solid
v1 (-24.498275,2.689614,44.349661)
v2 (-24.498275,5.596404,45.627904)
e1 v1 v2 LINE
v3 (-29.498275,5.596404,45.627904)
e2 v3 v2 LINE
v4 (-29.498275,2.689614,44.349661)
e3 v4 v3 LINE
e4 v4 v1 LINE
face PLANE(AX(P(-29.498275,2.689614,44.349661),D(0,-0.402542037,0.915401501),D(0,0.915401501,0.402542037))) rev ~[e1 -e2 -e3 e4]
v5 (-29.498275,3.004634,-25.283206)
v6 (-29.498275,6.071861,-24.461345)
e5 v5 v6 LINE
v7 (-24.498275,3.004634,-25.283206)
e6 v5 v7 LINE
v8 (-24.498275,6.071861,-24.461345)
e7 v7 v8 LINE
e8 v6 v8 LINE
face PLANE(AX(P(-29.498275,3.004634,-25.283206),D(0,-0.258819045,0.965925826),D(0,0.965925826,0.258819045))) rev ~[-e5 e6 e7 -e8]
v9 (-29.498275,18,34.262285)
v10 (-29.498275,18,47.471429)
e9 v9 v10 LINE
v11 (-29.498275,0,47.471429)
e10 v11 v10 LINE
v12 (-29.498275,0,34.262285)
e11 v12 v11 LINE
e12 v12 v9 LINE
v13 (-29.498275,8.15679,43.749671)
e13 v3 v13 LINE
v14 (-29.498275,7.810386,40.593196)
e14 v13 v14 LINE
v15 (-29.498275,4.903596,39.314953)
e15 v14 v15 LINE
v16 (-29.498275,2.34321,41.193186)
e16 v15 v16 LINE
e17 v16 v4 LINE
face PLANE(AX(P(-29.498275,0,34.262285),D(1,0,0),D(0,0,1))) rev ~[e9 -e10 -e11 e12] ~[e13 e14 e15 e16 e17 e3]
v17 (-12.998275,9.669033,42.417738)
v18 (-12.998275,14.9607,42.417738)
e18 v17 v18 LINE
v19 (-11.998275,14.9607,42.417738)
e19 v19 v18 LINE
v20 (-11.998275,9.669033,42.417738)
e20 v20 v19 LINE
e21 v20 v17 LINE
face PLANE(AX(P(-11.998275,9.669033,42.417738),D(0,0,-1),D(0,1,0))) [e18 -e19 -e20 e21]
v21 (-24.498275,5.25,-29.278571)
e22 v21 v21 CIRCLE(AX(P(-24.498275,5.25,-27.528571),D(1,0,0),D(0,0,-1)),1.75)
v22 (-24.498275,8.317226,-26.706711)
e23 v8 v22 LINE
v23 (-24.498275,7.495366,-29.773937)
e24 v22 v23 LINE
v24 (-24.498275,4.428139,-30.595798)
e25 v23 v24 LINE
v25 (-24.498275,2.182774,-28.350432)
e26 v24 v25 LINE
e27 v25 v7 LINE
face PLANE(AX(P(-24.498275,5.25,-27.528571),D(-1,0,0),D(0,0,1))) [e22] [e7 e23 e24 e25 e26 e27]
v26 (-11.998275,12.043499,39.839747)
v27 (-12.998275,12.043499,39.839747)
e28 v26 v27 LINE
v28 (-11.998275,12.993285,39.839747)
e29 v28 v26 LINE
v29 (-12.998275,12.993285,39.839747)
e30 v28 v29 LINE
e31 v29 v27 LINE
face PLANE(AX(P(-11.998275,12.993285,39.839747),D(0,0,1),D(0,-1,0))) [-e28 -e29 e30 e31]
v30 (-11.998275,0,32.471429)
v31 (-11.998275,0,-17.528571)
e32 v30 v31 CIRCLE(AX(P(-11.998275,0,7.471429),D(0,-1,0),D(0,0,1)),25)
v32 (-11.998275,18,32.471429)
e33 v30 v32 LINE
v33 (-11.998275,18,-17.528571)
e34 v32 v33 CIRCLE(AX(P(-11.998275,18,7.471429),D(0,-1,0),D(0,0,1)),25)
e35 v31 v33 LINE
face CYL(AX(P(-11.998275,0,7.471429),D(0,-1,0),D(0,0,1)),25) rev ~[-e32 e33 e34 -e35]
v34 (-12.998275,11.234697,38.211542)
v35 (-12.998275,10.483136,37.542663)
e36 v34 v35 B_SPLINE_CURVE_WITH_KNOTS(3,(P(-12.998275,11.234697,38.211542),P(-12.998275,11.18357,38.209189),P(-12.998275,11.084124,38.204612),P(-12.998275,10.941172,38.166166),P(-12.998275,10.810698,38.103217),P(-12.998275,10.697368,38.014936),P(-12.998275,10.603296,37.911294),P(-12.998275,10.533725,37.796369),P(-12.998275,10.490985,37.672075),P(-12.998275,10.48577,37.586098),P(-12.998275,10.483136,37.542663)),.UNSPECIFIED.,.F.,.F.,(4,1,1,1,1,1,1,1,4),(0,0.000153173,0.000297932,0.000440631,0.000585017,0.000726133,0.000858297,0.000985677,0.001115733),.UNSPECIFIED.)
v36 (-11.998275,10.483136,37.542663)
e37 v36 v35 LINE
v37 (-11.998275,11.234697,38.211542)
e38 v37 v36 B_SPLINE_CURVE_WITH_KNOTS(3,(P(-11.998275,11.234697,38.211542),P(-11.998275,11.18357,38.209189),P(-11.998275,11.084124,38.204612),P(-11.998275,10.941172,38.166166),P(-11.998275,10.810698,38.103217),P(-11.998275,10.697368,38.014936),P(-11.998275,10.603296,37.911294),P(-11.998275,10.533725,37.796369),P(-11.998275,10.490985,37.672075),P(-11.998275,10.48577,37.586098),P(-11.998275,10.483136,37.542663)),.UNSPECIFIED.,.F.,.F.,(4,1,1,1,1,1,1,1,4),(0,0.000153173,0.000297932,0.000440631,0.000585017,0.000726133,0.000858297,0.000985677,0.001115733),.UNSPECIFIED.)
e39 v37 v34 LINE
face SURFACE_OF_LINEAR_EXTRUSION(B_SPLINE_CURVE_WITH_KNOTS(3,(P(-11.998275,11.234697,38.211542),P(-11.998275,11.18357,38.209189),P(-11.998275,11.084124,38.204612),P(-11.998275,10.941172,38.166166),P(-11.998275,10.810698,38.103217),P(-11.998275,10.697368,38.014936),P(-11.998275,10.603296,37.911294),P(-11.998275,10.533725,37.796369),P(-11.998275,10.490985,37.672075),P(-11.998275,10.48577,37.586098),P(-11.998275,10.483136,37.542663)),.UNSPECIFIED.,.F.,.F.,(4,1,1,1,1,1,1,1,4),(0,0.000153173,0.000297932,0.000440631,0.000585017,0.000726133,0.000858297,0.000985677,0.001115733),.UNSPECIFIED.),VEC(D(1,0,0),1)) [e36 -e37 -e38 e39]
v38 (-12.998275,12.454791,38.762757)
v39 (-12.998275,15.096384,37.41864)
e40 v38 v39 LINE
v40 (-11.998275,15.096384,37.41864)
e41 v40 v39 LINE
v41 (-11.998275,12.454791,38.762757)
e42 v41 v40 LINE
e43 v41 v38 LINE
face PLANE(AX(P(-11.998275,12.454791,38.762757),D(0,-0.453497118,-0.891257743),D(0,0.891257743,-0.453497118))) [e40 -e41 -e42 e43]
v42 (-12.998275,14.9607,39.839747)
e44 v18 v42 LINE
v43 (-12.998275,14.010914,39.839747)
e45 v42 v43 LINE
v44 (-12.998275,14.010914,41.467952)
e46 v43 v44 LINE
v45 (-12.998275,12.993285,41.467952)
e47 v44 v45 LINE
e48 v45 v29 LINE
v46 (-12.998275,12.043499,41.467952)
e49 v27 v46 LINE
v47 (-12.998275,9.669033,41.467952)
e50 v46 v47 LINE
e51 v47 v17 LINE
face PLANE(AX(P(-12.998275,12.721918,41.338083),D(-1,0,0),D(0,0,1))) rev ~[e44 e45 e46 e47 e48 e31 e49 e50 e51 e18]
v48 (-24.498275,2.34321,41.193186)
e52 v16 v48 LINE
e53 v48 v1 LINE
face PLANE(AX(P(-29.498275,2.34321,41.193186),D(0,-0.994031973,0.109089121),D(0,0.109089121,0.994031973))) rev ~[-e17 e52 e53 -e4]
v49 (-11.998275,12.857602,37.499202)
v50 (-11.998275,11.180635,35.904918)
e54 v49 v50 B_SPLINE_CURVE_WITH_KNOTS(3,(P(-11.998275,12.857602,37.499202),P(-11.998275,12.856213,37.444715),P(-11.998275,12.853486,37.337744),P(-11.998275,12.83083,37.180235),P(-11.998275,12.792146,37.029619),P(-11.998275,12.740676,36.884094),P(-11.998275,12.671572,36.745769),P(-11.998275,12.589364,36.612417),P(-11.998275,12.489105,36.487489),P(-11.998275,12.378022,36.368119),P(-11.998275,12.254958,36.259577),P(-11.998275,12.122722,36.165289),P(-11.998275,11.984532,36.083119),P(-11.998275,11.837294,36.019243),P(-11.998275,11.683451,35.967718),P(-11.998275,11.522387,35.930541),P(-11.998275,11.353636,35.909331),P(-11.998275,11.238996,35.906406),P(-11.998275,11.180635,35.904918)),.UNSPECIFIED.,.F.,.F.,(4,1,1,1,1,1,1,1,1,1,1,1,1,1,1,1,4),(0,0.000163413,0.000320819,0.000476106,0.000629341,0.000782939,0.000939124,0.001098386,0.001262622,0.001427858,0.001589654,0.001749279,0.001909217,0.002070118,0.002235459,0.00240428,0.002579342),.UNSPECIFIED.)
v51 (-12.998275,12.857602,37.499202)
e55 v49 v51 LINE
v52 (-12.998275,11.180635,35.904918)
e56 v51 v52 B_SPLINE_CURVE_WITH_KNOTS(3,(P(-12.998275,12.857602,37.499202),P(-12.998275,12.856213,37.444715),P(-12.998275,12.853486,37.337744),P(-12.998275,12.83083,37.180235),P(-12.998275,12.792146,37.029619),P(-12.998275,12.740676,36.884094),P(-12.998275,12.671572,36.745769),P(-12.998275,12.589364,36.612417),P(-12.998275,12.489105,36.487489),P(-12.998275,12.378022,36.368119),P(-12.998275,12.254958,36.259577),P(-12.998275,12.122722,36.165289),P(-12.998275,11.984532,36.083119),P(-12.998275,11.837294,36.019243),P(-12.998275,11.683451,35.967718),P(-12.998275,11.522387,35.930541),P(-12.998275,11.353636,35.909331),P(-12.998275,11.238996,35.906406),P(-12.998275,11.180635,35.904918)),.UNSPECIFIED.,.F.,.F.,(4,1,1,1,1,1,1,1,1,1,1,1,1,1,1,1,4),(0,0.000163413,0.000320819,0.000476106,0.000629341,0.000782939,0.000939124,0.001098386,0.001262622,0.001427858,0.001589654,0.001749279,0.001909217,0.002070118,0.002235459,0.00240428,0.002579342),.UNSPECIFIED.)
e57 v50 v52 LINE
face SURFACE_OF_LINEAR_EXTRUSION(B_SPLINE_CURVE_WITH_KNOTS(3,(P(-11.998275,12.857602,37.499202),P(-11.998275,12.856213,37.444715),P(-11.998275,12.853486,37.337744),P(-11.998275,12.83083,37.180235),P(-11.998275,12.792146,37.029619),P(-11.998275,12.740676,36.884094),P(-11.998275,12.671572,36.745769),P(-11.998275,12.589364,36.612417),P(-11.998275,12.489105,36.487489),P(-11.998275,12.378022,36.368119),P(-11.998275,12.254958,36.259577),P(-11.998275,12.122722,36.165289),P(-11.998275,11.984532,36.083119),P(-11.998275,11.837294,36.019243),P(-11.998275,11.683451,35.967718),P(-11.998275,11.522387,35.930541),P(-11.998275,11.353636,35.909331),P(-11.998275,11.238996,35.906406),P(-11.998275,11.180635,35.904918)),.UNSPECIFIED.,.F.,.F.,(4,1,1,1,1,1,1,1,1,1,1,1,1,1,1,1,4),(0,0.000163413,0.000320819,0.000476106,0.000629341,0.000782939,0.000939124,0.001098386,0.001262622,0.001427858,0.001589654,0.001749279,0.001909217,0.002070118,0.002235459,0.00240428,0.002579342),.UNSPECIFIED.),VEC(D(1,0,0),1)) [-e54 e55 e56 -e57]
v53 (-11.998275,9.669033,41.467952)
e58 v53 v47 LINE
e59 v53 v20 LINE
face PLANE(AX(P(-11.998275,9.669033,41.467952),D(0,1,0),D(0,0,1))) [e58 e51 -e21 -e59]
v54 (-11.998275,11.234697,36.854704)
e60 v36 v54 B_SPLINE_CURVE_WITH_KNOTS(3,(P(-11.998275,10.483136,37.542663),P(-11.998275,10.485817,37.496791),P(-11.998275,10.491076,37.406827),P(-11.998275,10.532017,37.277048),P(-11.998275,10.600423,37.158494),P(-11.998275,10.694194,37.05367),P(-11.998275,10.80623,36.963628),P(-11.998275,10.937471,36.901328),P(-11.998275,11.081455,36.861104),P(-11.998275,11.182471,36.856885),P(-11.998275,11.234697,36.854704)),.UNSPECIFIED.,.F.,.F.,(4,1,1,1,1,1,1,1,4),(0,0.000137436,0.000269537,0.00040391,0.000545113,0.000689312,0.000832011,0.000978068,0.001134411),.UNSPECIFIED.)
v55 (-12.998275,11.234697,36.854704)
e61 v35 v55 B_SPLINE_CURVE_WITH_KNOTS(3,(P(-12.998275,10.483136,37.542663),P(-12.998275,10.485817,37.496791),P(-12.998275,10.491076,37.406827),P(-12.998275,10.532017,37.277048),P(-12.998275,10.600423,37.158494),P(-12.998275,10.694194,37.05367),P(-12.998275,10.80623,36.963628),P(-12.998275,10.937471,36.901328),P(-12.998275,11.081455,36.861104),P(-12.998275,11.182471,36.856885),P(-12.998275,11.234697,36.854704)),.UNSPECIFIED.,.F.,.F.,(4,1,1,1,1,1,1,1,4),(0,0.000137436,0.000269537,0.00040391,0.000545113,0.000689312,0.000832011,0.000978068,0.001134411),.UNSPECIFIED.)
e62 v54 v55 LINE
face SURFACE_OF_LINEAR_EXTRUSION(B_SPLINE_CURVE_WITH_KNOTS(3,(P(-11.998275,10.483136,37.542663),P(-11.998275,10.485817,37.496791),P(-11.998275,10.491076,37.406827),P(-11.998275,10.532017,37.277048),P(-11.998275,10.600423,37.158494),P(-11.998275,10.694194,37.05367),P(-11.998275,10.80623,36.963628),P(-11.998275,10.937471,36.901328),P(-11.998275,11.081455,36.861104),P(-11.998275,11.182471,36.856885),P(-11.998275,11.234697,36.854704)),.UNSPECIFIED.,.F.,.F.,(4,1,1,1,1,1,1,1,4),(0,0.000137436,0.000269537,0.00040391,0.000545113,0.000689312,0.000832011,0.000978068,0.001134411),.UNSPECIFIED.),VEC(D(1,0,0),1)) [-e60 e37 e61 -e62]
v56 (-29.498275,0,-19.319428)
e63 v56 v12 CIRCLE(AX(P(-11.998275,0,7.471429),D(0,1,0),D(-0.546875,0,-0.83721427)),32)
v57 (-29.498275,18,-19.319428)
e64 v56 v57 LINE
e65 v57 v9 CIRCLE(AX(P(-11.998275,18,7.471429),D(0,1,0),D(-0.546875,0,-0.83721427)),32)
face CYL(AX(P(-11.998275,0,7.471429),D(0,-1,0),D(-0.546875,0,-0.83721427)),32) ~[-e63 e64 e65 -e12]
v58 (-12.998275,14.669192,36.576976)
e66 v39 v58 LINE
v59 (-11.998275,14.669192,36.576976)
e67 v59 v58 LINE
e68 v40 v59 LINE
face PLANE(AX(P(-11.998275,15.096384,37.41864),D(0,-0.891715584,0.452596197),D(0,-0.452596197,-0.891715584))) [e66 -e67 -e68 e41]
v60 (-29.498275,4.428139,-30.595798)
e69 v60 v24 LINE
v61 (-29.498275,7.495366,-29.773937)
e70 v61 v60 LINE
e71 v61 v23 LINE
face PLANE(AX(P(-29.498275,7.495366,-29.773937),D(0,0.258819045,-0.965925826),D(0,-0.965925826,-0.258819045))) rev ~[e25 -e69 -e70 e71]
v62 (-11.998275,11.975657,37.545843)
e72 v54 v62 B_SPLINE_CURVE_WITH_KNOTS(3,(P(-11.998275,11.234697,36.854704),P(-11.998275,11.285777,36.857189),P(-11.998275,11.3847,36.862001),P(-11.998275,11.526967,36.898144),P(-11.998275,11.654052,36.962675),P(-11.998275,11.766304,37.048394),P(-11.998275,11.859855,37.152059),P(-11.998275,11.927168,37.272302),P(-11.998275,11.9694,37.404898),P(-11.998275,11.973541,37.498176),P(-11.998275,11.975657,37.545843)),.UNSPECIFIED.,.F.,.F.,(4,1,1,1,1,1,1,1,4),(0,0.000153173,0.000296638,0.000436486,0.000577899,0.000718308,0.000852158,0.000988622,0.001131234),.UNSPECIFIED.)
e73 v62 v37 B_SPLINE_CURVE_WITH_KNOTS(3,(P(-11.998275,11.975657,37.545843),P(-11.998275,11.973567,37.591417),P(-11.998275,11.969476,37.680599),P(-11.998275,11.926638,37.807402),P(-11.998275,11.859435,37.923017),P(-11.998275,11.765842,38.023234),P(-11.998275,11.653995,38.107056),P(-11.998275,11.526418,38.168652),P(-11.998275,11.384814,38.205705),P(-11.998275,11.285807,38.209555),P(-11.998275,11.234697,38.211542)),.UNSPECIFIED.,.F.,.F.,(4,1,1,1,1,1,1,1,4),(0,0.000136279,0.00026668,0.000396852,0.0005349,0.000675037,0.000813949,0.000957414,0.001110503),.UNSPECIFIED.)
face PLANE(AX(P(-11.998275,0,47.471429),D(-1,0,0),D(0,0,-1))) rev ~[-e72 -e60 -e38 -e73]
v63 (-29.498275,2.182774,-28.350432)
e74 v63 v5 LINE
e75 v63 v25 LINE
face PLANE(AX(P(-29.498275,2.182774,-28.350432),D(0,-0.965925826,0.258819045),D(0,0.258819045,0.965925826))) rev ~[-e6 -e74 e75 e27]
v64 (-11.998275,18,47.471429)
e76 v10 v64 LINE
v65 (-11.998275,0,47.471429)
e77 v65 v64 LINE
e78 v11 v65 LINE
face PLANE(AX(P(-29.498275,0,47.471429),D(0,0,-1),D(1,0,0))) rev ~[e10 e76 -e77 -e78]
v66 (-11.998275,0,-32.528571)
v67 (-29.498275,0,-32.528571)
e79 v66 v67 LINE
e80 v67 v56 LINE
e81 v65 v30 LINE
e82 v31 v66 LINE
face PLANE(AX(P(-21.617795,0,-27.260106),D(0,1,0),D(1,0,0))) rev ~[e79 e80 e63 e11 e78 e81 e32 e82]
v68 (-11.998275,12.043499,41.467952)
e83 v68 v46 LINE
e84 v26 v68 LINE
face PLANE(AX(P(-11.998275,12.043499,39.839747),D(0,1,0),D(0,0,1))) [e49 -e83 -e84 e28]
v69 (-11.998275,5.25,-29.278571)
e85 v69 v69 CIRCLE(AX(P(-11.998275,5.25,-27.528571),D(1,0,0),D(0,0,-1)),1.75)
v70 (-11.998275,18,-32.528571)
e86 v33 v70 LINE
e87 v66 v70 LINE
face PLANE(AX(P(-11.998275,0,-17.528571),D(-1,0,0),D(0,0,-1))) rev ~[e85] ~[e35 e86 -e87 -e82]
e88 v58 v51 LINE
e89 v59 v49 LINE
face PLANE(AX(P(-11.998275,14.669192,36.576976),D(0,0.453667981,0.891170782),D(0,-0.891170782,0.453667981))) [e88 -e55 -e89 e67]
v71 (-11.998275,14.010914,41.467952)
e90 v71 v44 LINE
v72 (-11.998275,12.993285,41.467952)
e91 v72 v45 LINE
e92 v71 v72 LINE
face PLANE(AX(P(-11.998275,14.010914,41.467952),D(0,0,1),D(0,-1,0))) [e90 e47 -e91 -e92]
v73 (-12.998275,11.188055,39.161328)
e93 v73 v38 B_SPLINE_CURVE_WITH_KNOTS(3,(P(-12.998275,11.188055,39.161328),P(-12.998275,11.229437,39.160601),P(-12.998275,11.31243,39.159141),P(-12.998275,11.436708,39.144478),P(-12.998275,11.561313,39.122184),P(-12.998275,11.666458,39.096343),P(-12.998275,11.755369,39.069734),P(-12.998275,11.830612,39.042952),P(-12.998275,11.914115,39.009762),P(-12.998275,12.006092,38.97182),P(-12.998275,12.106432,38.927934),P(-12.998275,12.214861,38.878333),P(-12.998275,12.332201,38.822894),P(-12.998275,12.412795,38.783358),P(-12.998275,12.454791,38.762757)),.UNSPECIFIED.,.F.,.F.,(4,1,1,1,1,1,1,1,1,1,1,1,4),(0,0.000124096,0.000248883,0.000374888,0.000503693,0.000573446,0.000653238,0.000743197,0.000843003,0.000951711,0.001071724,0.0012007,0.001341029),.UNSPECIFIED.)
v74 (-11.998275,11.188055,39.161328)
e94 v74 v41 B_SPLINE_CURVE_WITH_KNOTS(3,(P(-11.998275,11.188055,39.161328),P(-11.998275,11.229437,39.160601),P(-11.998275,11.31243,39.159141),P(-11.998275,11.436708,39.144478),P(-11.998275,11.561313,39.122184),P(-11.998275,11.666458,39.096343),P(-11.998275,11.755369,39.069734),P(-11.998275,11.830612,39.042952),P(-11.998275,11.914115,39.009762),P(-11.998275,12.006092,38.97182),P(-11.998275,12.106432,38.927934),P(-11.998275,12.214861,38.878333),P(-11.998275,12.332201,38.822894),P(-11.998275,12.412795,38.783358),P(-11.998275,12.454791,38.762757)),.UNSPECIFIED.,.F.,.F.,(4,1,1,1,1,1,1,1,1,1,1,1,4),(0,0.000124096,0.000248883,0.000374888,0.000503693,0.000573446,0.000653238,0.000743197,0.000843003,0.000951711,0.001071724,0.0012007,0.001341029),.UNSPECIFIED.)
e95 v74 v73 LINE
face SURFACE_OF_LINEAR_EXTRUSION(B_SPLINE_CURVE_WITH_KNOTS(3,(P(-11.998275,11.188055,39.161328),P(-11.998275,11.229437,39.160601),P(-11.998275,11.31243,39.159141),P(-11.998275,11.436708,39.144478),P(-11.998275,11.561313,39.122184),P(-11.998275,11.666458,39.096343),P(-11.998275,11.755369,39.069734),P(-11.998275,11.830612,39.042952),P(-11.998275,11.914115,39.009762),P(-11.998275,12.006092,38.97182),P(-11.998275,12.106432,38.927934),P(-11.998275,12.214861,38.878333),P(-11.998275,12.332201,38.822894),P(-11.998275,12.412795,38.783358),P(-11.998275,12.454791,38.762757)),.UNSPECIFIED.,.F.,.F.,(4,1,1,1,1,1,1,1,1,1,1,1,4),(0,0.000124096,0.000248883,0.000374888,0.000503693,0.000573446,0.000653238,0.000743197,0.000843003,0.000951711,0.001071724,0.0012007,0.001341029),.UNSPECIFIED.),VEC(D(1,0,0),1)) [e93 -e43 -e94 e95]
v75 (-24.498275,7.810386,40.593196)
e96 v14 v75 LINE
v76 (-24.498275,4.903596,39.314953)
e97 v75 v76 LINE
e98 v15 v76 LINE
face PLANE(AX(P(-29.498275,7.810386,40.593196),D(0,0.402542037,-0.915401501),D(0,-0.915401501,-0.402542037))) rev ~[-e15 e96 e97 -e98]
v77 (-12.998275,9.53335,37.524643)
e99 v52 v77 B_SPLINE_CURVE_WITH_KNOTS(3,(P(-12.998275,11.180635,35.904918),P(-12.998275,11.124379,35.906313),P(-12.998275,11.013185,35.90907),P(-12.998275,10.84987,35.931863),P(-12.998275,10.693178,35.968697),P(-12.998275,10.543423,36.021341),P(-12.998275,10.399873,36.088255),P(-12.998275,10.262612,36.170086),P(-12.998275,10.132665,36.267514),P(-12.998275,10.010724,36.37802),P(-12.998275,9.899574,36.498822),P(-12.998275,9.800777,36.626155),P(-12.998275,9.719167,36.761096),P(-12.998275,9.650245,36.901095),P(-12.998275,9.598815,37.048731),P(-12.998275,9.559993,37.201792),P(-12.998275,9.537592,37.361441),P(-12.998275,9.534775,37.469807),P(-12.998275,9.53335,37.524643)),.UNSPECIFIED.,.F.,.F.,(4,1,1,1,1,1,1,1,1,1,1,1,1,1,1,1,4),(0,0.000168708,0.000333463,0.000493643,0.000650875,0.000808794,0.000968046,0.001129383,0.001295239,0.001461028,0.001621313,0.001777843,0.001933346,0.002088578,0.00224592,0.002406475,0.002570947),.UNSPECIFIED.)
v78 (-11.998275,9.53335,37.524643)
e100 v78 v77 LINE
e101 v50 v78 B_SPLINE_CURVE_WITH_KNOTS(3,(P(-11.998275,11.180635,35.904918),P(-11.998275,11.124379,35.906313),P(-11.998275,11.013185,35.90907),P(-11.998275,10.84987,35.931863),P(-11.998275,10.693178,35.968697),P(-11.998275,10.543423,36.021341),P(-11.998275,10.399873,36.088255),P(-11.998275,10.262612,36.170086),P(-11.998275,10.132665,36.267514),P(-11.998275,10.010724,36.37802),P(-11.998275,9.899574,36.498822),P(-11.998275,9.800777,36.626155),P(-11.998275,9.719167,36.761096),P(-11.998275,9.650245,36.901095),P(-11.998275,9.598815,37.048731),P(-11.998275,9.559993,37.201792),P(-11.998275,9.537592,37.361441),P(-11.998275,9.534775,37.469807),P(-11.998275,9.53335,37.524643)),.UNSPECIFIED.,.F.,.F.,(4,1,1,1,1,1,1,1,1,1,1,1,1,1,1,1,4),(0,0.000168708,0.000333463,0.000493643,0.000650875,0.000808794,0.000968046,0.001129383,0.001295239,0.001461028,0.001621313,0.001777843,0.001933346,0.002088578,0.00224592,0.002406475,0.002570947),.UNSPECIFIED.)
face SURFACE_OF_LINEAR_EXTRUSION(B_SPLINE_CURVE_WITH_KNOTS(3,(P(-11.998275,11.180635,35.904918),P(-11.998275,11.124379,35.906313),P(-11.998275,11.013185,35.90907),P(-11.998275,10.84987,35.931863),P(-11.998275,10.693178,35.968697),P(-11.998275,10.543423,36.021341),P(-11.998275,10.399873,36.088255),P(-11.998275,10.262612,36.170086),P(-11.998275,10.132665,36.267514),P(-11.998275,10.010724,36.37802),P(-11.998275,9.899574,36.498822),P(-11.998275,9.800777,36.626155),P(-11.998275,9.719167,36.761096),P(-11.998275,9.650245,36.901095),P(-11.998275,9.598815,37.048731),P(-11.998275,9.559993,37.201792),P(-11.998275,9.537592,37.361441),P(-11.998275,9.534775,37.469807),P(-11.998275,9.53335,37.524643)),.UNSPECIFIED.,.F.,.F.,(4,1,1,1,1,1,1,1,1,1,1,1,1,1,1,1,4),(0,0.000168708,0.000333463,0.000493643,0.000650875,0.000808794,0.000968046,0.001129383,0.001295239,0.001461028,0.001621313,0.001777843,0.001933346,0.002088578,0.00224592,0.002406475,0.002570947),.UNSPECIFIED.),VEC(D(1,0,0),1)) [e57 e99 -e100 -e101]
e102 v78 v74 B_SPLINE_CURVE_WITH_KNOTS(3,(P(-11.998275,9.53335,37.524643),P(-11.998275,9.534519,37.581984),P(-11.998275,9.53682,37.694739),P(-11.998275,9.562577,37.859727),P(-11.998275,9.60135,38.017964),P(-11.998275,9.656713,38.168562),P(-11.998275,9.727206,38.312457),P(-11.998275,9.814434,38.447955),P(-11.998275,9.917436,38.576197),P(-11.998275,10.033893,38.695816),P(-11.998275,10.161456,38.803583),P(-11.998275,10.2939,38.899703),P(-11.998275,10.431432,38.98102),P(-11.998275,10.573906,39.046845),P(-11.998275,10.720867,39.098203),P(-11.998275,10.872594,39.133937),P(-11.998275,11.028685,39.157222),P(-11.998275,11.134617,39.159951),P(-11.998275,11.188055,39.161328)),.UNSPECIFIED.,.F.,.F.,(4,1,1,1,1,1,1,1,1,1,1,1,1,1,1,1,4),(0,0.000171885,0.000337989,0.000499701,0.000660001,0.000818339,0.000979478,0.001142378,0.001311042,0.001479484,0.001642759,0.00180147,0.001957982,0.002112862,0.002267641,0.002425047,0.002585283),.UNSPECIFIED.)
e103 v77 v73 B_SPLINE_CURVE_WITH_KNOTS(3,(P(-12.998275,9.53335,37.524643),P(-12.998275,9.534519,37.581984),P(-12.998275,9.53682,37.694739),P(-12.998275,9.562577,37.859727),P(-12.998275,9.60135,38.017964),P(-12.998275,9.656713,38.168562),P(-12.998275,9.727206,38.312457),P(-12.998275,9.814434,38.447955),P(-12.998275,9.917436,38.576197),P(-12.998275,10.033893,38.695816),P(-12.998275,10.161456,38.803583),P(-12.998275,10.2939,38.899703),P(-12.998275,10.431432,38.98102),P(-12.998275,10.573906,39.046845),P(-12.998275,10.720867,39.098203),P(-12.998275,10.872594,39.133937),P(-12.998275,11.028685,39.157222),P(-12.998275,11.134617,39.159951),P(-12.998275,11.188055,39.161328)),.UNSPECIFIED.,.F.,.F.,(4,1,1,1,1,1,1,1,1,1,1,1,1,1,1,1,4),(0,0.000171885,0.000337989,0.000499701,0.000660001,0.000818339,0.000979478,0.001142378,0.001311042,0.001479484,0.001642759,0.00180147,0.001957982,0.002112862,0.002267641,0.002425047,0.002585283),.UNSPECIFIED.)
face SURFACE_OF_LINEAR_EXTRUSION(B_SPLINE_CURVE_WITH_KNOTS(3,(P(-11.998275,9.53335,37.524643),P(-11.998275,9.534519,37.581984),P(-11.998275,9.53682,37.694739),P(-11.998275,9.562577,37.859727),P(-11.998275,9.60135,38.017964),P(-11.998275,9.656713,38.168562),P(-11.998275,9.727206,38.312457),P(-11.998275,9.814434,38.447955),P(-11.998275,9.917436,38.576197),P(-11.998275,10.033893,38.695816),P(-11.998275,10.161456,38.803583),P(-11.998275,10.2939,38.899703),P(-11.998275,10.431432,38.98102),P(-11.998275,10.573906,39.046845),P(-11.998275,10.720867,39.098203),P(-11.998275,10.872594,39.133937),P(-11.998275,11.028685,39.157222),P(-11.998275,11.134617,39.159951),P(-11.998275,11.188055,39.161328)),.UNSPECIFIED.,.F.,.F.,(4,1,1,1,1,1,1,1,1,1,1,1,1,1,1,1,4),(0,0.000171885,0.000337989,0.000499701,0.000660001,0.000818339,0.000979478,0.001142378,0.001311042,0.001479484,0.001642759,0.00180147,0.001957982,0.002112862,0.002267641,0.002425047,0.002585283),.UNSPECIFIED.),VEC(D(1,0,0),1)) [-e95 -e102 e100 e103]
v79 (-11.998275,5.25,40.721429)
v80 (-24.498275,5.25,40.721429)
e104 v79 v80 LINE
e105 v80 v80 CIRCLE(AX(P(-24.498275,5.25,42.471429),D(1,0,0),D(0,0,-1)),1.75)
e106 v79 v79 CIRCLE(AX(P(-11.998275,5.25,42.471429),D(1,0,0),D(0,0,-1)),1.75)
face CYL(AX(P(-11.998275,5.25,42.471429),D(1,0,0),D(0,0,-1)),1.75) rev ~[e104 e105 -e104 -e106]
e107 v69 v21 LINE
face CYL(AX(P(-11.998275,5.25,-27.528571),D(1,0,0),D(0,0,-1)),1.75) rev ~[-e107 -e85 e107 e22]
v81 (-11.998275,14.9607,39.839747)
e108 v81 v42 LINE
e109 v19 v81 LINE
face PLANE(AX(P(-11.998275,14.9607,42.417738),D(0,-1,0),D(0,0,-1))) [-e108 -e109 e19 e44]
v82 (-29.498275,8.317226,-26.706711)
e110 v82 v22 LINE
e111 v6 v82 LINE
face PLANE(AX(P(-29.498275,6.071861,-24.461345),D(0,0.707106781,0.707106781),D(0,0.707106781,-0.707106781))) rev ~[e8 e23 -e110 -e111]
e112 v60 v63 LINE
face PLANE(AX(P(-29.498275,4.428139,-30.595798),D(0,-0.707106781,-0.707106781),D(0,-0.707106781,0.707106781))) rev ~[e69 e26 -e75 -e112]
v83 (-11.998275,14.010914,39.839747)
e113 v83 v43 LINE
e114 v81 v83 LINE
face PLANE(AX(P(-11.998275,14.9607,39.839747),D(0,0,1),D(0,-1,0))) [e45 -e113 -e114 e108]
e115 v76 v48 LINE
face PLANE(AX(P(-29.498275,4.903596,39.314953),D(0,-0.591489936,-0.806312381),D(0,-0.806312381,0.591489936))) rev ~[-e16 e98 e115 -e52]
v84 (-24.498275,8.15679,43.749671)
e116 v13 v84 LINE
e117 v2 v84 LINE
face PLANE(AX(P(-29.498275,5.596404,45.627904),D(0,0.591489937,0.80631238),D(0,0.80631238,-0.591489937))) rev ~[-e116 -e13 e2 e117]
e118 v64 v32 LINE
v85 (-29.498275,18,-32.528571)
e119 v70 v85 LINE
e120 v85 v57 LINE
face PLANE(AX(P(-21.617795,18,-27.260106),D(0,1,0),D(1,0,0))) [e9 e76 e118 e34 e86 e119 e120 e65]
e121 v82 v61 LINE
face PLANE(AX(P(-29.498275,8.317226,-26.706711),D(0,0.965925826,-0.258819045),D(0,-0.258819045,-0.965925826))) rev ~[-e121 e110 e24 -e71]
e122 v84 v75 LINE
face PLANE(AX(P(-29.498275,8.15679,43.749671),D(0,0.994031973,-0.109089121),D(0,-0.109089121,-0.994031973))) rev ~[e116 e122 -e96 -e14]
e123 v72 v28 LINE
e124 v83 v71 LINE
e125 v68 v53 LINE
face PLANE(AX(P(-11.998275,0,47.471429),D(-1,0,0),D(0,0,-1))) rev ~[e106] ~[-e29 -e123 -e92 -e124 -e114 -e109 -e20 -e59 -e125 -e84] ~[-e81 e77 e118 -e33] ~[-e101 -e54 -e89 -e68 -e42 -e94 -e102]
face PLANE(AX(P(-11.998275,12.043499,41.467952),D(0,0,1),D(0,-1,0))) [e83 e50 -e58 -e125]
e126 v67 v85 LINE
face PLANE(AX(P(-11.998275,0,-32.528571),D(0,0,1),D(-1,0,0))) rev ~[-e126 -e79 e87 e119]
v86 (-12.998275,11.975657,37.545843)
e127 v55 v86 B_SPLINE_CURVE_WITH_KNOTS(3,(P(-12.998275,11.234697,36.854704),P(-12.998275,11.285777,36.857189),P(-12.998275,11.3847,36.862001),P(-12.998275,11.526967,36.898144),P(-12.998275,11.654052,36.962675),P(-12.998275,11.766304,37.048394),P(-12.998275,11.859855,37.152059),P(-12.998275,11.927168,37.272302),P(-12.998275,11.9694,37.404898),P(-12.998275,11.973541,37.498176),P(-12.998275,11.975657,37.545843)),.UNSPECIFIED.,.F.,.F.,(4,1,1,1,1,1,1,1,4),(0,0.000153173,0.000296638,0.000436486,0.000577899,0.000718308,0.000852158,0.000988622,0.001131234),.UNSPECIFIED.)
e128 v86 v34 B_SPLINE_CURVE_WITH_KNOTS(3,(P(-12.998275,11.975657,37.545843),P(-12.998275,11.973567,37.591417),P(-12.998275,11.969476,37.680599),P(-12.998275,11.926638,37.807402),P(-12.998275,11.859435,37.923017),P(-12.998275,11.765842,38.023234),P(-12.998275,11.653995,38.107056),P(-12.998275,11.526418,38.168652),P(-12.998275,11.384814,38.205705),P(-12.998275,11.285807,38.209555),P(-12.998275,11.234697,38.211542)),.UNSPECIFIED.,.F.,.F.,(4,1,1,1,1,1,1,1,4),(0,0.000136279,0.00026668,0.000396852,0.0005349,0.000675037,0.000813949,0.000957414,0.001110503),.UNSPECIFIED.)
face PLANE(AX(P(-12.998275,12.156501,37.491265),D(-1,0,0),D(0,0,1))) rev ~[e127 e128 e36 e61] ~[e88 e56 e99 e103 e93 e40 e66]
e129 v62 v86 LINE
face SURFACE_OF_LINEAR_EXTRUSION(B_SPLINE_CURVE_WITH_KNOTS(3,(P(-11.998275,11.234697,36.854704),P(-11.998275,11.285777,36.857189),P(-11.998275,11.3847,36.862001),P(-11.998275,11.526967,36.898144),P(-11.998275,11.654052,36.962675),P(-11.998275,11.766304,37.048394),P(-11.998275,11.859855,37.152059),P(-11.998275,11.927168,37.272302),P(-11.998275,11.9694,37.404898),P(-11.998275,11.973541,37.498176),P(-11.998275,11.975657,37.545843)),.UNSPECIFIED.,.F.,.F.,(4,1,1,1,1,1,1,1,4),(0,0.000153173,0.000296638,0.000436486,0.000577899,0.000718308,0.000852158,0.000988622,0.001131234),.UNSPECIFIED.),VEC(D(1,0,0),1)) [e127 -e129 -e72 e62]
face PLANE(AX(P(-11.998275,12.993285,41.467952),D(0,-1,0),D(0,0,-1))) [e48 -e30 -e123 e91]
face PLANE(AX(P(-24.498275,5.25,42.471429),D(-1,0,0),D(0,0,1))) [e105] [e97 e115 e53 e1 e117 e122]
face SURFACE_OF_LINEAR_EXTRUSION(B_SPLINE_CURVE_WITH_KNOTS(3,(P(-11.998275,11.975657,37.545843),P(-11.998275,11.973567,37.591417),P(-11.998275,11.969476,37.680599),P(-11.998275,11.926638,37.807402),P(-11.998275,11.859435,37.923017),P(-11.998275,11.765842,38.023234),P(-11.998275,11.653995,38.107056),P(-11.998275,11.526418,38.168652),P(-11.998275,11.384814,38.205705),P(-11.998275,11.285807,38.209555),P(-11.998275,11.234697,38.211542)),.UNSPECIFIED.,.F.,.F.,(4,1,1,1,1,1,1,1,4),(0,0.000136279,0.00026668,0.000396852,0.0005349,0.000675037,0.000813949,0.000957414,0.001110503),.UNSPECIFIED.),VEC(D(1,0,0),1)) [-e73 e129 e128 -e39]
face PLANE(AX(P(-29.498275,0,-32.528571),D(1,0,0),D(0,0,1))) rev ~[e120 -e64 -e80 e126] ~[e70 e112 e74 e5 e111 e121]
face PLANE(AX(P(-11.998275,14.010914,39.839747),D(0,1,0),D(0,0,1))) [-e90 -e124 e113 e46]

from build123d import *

# Parameters (mm, degrees)
BOSS_EXTRUDE1_DEPTH = 18
SKETCH2_R           = 1.75
CUT_EXTRUDE1_DEPTH  = 33
CUT_EXTRUDE2_DEPTH  = 1
CUT_EXTRUDE3_DEPTH  = 5


with BuildPart() as part:
    # Sketch1 → Boss-Extrude1 (new body)
    with BuildSketch(Plane(origin=(0, 0, 0), x_dir=(1, 0, 0), z_dir=(0, 1, 0))):
        with BuildLine():
            Line((-11.998275301, 32.528571429), (-29.498275301, 32.528571429))
            Line((-29.498275301, 32.528571429), (-29.498275301, 19.319428078))
            ThreePointArc((-29.498275301, 19.319428078), (-21.127694429, 23.198649785), (-11.998275301, 24.528571429))
            Line((-11.998275301, 24.528571429), (-11.998275301, 32.528571429))
        make_face()
        with BuildLine():
            ThreePointArc((-11.998275301, 24.528571429), (-21.127694429, 23.198649785), (-29.498275301, 19.319428078))
            ThreePointArc((-29.498275301, 19.319428078), (-43.998275301, -7.471428571), (-29.498275301, -34.262285221))
            ThreePointArc((-29.498275301, -34.262285221), (-21.127694429, -38.141506928), (-11.998275301, -39.471428571))
            Line((-11.998275301, -39.471428571), (-11.998275301, -32.471428571))
            ThreePointArc((-11.998275301, -32.471428571), (-36.998275301, -7.471428571), (-11.998275301, 17.528571429))
            Line((-11.998275301, 17.528571429), (-11.998275301, 24.528571429))
        make_face()
        with BuildLine():
            Line((-29.498275301, -34.262285221), (-29.498275301, -47.471428571))
            Line((-29.498275301, -47.471428571), (-11.998275301, -47.471428571))
            Line((-11.998275301, -47.471428571), (-11.998275301, -39.471428571))
            ThreePointArc((-11.998275301, -39.471428571), (-21.127694429, -38.141506928), (-29.498275301, -34.262285221))
        make_face()
    extrude(amount=BOSS_EXTRUDE1_DEPTH)

    # Sketch2 → Cut-Extrude1 (cut, through all)
    with BuildSketch(Plane(origin=(-11.998275301, 0, 0), x_dir=(0, 0, -1), z_dir=(1, 0, 0))):
        with Locations((-42.471428571, 5.25)):
            Circle(SKETCH2_R)
        with Locations((27.528571429, 5.25)):
            Circle(SKETCH2_R)
    extrude(amount=-CUT_EXTRUDE1_DEPTH, mode=Mode.SUBTRACT)

    # Sketch3 → Cut-Extrude2 (cut)
    with BuildSketch(Plane(origin=(-11.998275301, 0, 0), x_dir=(0, 0, -1), z_dir=(1, 0, 0))):
        Polygon((-42.417738354, 14.960699998), (-39.839746901, 14.960699998), (-39.839746901, 14.010913673), (-41.467952029, 14.010913673), (-41.467952029, 12.993285468), (-39.839746901, 12.993285468), (-39.839746901, 12.043499143), (-41.467952029, 12.043499143), (-41.467952029, 9.669033331), (-42.417738354, 9.669033331), align=None)
        with BuildLine():
            Line((-37.418639796, 15.096383759), (-36.576976468, 14.669191918))
            Line((-36.576976468, 14.669191918), (-37.499202029, 12.857601707))
            add(Edge.make_bspline(
                [(-37.499202029, 12.857601707), (-37.444714907, 12.856212797), (-37.337743504, 12.853486031), (-37.180235064, 12.830829794), (-37.029618939, 12.792146161), (-36.884094237, 12.740675931), (-36.745768611, 12.671572146), (-36.612417045, 12.589364414), (-36.48748866, 12.48910469), (-36.368119164, 12.378021865), (-36.259577083, 12.254958161), (-36.1652891, 12.122722275), (-36.083118786, 11.984531555), (-36.01924289, 11.837294329), (-35.967718466, 11.683451224), (-35.930541327, 11.522387264), (-35.909330729, 11.353636042), (-35.906406494, 11.238995693), (-35.904917841, 11.180635228)],
                knots=[0, 0, 0, 0, 0.000163413, 0.000320819, 0.000476106, 0.000629341, 0.000782939, 0.000939124, 0.001098386, 0.001262622, 0.001427858, 0.001589654, 0.001749279, 0.001909217, 0.002070118, 0.002235459, 0.00240428, 0.002579342, 0.002579342, 0.002579342, 0.002579342], degree=3))
            add(Edge.make_bspline(
                [(-35.904917841, 11.180635228), (-35.906312832, 11.12437928), (-35.909070131, 11.013185394), (-35.931862859, 10.849869855), (-35.968697104, 10.693178147), (-36.021340637, 10.543423201), (-36.088254824, 10.399873012), (-36.170086343, 10.262611816), (-36.267513827, 10.132665321), (-36.378020019, 10.010724), (-36.498822351, 9.899573584), (-36.626154588, 9.800776626), (-36.761095728, 9.71916659), (-36.901095226, 9.650245002), (-37.048730558, 9.598814566), (-37.201792353, 9.559993497), (-37.361441325, 9.537592055), (-37.469806956, 9.534775048), (-37.524642734, 9.533349571)],
                knots=[0, 0, 0, 0, 0.000168708, 0.000333463, 0.000493643, 0.000650875, 0.000808794, 0.000968046, 0.001129383, 0.001295239, 0.001461028, 0.001621313, 0.001777843, 0.001933346, 0.002088578, 0.00224592, 0.002406475, 0.002570947, 0.002570947, 0.002570947, 0.002570947], degree=3))
            add(Edge.make_bspline(
                [(-37.524642734, 9.533349571), (-37.581984294, 9.534519384), (-37.694738713, 9.536819664), (-37.859726647, 9.562576741), (-38.017964276, 9.601350429), (-38.168562277, 9.656712667), (-38.312457177, 9.727205977), (-38.44795487, 9.814434357), (-38.576196739, 9.917435913), (-38.695815537, 10.033893272), (-38.803583159, 10.161456375), (-38.899702871, 10.293900088), (-38.981020271, 10.431432244), (-39.046844811, 10.573905795), (-39.098202644, 10.720866743), (-39.133937221, 10.872594007), (-39.157221595, 11.028685132), (-39.159951157, 11.134617402), (-39.161328098, 11.188055433)],
                knots=[0, 0, 0, 0, 0.000171885, 0.000337989, 0.000499701, 0.000660001, 0.000818339, 0.000979478, 0.001142378, 0.001311042, 0.001479484, 0.001642759, 0.00180147, 0.001957982, 0.002112862, 0.002267641, 0.002425047, 0.002585283, 0.002585283, 0.002585283, 0.002585283], degree=3))
            add(Edge.make_bspline(
                [(-39.161328098, 11.188055433), (-39.160600549, 11.229436937), (-39.159141403, 11.312430291), (-39.144477856, 11.436708329), (-39.122184114, 11.561312585), (-39.096342748, 11.666457602), (-39.06973392, 11.755368717), (-39.042951931, 11.830611792), (-39.009761556, 11.914115152), (-38.97182004, 12.006092031), (-38.927934263, 12.106431782), (-38.878333474, 12.214860904), (-38.822894189, 12.332200505), (-38.783358344, 12.412794641), (-38.76275705, 12.454790543)],
                knots=[0, 0, 0, 0, 0.000124096, 0.000248883, 0.000374888, 0.000503693, 0.000573446, 0.000653238, 0.000743197, 0.000843003, 0.000951711, 0.001071724, 0.0012007, 0.001341029, 0.001341029, 0.001341029, 0.001341029], degree=3))
            Line((-38.76275705, 12.454790543), (-37.418639796, 15.096383759))
        make_face()
        with BuildLine():
            add(Edge.make_bspline(
                [(-37.545843322, 11.975657263), (-37.59141696, 11.973566896), (-37.680598589, 11.969476324), (-37.807401527, 11.926637853), (-37.923017038, 11.859434955), (-38.023233992, 11.765841923), (-38.107056253, 11.653994574), (-38.168651791, 11.526417732), (-38.20570493, 11.384813877), (-38.209554514, 11.285806822), (-38.211541773, 11.234696726)],
                knots=[0, 0, 0, 0, 0.000136279, 0.00026668, 0.000396852, 0.0005349, 0.000675037, 0.000813949, 0.000957414, 0.001110503, 0.001110503, 0.001110503, 0.001110503], degree=3))
            add(Edge.make_bspline(
                [(-38.211541773, 11.234696726), (-38.209188797, 11.183569611), (-38.204612101, 11.084123954), (-38.166165714, 10.941171776), (-38.103217051, 10.810697813), (-38.014935565, 10.697368244), (-37.911294369, 10.603295927), (-37.796368575, 10.533724951), (-37.672075188, 10.490985217), (-37.586098416, 10.485770403), (-37.542663234, 10.483135895)],
                knots=[0, 0, 0, 0, 0.000153173, 0.000297932, 0.000440631, 0.000585017, 0.000726133, 0.000858297, 0.000985677, 0.001115733, 0.001115733, 0.001115733, 0.001115733], degree=3))
            add(Edge.make_bspline(
                [(-37.542663234, 10.483135895), (-37.496790772, 10.485817325), (-37.406826908, 10.491076074), (-37.277048133, 10.532017398), (-37.158494443, 10.600422832), (-37.053670049, 10.694193969), (-36.963627887, 10.806230295), (-36.901327806, 10.937470644), (-36.861104027, 11.081454599), (-36.856885283, 11.182470747), (-36.854704166, 11.234696726)],
                knots=[0, 0, 0, 0, 0.000137436, 0.000269537, 0.00040391, 0.000545113, 0.000689312, 0.000832011, 0.000978068, 0.001134411, 0.001134411, 0.001134411, 0.001134411], degree=3))
            add(Edge.make_bspline(
                [(-36.854704166, 11.234696726), (-36.857188856, 11.285776979), (-36.86200075, 11.384699854), (-36.898143772, 11.526967091), (-36.962674696, 11.654052204), (-37.048393503, 11.766303611), (-37.152059393, 11.85985491), (-37.272302072, 11.927167836), (-37.40489758, 11.969400428), (-37.498176409, 11.973541243), (-37.545843322, 11.975657263)],
                knots=[0, 0, 0, 0, 0.000153173, 0.000296638, 0.000436486, 0.000577899, 0.000718308, 0.000852158, 0.000988622, 0.001131234, 0.001131234, 0.001131234, 0.001131234], degree=3))
        make_face(mode=Mode.SUBTRACT)
    extrude(amount=-CUT_EXTRUDE2_DEPTH, mode=Mode.SUBTRACT)

    # Sketch4 → Cut-Extrude3 (cut)
    with BuildSketch(Plane.ZY.offset(29.498275301)):
        Polygon((-25.283205831, 3.004634402), (-24.461344982, 6.071860849), (-26.706710579, 8.317226447), (-29.773937026, 7.495365598), (-30.595797876, 4.428139151), (-28.350432278, 2.182773553), align=None)
        Polygon((44.349661379, 2.689614315), (45.627904022, 5.596404483), (43.749671214, 8.156790168), (40.593195764, 7.810385685), (39.314953121, 4.903595517), (41.193185928, 2.343209832), align=None)
    extrude(amount=-CUT_EXTRUDE3_DEPTH, mode=Mode.SUBTRACT)


solid = part.part
